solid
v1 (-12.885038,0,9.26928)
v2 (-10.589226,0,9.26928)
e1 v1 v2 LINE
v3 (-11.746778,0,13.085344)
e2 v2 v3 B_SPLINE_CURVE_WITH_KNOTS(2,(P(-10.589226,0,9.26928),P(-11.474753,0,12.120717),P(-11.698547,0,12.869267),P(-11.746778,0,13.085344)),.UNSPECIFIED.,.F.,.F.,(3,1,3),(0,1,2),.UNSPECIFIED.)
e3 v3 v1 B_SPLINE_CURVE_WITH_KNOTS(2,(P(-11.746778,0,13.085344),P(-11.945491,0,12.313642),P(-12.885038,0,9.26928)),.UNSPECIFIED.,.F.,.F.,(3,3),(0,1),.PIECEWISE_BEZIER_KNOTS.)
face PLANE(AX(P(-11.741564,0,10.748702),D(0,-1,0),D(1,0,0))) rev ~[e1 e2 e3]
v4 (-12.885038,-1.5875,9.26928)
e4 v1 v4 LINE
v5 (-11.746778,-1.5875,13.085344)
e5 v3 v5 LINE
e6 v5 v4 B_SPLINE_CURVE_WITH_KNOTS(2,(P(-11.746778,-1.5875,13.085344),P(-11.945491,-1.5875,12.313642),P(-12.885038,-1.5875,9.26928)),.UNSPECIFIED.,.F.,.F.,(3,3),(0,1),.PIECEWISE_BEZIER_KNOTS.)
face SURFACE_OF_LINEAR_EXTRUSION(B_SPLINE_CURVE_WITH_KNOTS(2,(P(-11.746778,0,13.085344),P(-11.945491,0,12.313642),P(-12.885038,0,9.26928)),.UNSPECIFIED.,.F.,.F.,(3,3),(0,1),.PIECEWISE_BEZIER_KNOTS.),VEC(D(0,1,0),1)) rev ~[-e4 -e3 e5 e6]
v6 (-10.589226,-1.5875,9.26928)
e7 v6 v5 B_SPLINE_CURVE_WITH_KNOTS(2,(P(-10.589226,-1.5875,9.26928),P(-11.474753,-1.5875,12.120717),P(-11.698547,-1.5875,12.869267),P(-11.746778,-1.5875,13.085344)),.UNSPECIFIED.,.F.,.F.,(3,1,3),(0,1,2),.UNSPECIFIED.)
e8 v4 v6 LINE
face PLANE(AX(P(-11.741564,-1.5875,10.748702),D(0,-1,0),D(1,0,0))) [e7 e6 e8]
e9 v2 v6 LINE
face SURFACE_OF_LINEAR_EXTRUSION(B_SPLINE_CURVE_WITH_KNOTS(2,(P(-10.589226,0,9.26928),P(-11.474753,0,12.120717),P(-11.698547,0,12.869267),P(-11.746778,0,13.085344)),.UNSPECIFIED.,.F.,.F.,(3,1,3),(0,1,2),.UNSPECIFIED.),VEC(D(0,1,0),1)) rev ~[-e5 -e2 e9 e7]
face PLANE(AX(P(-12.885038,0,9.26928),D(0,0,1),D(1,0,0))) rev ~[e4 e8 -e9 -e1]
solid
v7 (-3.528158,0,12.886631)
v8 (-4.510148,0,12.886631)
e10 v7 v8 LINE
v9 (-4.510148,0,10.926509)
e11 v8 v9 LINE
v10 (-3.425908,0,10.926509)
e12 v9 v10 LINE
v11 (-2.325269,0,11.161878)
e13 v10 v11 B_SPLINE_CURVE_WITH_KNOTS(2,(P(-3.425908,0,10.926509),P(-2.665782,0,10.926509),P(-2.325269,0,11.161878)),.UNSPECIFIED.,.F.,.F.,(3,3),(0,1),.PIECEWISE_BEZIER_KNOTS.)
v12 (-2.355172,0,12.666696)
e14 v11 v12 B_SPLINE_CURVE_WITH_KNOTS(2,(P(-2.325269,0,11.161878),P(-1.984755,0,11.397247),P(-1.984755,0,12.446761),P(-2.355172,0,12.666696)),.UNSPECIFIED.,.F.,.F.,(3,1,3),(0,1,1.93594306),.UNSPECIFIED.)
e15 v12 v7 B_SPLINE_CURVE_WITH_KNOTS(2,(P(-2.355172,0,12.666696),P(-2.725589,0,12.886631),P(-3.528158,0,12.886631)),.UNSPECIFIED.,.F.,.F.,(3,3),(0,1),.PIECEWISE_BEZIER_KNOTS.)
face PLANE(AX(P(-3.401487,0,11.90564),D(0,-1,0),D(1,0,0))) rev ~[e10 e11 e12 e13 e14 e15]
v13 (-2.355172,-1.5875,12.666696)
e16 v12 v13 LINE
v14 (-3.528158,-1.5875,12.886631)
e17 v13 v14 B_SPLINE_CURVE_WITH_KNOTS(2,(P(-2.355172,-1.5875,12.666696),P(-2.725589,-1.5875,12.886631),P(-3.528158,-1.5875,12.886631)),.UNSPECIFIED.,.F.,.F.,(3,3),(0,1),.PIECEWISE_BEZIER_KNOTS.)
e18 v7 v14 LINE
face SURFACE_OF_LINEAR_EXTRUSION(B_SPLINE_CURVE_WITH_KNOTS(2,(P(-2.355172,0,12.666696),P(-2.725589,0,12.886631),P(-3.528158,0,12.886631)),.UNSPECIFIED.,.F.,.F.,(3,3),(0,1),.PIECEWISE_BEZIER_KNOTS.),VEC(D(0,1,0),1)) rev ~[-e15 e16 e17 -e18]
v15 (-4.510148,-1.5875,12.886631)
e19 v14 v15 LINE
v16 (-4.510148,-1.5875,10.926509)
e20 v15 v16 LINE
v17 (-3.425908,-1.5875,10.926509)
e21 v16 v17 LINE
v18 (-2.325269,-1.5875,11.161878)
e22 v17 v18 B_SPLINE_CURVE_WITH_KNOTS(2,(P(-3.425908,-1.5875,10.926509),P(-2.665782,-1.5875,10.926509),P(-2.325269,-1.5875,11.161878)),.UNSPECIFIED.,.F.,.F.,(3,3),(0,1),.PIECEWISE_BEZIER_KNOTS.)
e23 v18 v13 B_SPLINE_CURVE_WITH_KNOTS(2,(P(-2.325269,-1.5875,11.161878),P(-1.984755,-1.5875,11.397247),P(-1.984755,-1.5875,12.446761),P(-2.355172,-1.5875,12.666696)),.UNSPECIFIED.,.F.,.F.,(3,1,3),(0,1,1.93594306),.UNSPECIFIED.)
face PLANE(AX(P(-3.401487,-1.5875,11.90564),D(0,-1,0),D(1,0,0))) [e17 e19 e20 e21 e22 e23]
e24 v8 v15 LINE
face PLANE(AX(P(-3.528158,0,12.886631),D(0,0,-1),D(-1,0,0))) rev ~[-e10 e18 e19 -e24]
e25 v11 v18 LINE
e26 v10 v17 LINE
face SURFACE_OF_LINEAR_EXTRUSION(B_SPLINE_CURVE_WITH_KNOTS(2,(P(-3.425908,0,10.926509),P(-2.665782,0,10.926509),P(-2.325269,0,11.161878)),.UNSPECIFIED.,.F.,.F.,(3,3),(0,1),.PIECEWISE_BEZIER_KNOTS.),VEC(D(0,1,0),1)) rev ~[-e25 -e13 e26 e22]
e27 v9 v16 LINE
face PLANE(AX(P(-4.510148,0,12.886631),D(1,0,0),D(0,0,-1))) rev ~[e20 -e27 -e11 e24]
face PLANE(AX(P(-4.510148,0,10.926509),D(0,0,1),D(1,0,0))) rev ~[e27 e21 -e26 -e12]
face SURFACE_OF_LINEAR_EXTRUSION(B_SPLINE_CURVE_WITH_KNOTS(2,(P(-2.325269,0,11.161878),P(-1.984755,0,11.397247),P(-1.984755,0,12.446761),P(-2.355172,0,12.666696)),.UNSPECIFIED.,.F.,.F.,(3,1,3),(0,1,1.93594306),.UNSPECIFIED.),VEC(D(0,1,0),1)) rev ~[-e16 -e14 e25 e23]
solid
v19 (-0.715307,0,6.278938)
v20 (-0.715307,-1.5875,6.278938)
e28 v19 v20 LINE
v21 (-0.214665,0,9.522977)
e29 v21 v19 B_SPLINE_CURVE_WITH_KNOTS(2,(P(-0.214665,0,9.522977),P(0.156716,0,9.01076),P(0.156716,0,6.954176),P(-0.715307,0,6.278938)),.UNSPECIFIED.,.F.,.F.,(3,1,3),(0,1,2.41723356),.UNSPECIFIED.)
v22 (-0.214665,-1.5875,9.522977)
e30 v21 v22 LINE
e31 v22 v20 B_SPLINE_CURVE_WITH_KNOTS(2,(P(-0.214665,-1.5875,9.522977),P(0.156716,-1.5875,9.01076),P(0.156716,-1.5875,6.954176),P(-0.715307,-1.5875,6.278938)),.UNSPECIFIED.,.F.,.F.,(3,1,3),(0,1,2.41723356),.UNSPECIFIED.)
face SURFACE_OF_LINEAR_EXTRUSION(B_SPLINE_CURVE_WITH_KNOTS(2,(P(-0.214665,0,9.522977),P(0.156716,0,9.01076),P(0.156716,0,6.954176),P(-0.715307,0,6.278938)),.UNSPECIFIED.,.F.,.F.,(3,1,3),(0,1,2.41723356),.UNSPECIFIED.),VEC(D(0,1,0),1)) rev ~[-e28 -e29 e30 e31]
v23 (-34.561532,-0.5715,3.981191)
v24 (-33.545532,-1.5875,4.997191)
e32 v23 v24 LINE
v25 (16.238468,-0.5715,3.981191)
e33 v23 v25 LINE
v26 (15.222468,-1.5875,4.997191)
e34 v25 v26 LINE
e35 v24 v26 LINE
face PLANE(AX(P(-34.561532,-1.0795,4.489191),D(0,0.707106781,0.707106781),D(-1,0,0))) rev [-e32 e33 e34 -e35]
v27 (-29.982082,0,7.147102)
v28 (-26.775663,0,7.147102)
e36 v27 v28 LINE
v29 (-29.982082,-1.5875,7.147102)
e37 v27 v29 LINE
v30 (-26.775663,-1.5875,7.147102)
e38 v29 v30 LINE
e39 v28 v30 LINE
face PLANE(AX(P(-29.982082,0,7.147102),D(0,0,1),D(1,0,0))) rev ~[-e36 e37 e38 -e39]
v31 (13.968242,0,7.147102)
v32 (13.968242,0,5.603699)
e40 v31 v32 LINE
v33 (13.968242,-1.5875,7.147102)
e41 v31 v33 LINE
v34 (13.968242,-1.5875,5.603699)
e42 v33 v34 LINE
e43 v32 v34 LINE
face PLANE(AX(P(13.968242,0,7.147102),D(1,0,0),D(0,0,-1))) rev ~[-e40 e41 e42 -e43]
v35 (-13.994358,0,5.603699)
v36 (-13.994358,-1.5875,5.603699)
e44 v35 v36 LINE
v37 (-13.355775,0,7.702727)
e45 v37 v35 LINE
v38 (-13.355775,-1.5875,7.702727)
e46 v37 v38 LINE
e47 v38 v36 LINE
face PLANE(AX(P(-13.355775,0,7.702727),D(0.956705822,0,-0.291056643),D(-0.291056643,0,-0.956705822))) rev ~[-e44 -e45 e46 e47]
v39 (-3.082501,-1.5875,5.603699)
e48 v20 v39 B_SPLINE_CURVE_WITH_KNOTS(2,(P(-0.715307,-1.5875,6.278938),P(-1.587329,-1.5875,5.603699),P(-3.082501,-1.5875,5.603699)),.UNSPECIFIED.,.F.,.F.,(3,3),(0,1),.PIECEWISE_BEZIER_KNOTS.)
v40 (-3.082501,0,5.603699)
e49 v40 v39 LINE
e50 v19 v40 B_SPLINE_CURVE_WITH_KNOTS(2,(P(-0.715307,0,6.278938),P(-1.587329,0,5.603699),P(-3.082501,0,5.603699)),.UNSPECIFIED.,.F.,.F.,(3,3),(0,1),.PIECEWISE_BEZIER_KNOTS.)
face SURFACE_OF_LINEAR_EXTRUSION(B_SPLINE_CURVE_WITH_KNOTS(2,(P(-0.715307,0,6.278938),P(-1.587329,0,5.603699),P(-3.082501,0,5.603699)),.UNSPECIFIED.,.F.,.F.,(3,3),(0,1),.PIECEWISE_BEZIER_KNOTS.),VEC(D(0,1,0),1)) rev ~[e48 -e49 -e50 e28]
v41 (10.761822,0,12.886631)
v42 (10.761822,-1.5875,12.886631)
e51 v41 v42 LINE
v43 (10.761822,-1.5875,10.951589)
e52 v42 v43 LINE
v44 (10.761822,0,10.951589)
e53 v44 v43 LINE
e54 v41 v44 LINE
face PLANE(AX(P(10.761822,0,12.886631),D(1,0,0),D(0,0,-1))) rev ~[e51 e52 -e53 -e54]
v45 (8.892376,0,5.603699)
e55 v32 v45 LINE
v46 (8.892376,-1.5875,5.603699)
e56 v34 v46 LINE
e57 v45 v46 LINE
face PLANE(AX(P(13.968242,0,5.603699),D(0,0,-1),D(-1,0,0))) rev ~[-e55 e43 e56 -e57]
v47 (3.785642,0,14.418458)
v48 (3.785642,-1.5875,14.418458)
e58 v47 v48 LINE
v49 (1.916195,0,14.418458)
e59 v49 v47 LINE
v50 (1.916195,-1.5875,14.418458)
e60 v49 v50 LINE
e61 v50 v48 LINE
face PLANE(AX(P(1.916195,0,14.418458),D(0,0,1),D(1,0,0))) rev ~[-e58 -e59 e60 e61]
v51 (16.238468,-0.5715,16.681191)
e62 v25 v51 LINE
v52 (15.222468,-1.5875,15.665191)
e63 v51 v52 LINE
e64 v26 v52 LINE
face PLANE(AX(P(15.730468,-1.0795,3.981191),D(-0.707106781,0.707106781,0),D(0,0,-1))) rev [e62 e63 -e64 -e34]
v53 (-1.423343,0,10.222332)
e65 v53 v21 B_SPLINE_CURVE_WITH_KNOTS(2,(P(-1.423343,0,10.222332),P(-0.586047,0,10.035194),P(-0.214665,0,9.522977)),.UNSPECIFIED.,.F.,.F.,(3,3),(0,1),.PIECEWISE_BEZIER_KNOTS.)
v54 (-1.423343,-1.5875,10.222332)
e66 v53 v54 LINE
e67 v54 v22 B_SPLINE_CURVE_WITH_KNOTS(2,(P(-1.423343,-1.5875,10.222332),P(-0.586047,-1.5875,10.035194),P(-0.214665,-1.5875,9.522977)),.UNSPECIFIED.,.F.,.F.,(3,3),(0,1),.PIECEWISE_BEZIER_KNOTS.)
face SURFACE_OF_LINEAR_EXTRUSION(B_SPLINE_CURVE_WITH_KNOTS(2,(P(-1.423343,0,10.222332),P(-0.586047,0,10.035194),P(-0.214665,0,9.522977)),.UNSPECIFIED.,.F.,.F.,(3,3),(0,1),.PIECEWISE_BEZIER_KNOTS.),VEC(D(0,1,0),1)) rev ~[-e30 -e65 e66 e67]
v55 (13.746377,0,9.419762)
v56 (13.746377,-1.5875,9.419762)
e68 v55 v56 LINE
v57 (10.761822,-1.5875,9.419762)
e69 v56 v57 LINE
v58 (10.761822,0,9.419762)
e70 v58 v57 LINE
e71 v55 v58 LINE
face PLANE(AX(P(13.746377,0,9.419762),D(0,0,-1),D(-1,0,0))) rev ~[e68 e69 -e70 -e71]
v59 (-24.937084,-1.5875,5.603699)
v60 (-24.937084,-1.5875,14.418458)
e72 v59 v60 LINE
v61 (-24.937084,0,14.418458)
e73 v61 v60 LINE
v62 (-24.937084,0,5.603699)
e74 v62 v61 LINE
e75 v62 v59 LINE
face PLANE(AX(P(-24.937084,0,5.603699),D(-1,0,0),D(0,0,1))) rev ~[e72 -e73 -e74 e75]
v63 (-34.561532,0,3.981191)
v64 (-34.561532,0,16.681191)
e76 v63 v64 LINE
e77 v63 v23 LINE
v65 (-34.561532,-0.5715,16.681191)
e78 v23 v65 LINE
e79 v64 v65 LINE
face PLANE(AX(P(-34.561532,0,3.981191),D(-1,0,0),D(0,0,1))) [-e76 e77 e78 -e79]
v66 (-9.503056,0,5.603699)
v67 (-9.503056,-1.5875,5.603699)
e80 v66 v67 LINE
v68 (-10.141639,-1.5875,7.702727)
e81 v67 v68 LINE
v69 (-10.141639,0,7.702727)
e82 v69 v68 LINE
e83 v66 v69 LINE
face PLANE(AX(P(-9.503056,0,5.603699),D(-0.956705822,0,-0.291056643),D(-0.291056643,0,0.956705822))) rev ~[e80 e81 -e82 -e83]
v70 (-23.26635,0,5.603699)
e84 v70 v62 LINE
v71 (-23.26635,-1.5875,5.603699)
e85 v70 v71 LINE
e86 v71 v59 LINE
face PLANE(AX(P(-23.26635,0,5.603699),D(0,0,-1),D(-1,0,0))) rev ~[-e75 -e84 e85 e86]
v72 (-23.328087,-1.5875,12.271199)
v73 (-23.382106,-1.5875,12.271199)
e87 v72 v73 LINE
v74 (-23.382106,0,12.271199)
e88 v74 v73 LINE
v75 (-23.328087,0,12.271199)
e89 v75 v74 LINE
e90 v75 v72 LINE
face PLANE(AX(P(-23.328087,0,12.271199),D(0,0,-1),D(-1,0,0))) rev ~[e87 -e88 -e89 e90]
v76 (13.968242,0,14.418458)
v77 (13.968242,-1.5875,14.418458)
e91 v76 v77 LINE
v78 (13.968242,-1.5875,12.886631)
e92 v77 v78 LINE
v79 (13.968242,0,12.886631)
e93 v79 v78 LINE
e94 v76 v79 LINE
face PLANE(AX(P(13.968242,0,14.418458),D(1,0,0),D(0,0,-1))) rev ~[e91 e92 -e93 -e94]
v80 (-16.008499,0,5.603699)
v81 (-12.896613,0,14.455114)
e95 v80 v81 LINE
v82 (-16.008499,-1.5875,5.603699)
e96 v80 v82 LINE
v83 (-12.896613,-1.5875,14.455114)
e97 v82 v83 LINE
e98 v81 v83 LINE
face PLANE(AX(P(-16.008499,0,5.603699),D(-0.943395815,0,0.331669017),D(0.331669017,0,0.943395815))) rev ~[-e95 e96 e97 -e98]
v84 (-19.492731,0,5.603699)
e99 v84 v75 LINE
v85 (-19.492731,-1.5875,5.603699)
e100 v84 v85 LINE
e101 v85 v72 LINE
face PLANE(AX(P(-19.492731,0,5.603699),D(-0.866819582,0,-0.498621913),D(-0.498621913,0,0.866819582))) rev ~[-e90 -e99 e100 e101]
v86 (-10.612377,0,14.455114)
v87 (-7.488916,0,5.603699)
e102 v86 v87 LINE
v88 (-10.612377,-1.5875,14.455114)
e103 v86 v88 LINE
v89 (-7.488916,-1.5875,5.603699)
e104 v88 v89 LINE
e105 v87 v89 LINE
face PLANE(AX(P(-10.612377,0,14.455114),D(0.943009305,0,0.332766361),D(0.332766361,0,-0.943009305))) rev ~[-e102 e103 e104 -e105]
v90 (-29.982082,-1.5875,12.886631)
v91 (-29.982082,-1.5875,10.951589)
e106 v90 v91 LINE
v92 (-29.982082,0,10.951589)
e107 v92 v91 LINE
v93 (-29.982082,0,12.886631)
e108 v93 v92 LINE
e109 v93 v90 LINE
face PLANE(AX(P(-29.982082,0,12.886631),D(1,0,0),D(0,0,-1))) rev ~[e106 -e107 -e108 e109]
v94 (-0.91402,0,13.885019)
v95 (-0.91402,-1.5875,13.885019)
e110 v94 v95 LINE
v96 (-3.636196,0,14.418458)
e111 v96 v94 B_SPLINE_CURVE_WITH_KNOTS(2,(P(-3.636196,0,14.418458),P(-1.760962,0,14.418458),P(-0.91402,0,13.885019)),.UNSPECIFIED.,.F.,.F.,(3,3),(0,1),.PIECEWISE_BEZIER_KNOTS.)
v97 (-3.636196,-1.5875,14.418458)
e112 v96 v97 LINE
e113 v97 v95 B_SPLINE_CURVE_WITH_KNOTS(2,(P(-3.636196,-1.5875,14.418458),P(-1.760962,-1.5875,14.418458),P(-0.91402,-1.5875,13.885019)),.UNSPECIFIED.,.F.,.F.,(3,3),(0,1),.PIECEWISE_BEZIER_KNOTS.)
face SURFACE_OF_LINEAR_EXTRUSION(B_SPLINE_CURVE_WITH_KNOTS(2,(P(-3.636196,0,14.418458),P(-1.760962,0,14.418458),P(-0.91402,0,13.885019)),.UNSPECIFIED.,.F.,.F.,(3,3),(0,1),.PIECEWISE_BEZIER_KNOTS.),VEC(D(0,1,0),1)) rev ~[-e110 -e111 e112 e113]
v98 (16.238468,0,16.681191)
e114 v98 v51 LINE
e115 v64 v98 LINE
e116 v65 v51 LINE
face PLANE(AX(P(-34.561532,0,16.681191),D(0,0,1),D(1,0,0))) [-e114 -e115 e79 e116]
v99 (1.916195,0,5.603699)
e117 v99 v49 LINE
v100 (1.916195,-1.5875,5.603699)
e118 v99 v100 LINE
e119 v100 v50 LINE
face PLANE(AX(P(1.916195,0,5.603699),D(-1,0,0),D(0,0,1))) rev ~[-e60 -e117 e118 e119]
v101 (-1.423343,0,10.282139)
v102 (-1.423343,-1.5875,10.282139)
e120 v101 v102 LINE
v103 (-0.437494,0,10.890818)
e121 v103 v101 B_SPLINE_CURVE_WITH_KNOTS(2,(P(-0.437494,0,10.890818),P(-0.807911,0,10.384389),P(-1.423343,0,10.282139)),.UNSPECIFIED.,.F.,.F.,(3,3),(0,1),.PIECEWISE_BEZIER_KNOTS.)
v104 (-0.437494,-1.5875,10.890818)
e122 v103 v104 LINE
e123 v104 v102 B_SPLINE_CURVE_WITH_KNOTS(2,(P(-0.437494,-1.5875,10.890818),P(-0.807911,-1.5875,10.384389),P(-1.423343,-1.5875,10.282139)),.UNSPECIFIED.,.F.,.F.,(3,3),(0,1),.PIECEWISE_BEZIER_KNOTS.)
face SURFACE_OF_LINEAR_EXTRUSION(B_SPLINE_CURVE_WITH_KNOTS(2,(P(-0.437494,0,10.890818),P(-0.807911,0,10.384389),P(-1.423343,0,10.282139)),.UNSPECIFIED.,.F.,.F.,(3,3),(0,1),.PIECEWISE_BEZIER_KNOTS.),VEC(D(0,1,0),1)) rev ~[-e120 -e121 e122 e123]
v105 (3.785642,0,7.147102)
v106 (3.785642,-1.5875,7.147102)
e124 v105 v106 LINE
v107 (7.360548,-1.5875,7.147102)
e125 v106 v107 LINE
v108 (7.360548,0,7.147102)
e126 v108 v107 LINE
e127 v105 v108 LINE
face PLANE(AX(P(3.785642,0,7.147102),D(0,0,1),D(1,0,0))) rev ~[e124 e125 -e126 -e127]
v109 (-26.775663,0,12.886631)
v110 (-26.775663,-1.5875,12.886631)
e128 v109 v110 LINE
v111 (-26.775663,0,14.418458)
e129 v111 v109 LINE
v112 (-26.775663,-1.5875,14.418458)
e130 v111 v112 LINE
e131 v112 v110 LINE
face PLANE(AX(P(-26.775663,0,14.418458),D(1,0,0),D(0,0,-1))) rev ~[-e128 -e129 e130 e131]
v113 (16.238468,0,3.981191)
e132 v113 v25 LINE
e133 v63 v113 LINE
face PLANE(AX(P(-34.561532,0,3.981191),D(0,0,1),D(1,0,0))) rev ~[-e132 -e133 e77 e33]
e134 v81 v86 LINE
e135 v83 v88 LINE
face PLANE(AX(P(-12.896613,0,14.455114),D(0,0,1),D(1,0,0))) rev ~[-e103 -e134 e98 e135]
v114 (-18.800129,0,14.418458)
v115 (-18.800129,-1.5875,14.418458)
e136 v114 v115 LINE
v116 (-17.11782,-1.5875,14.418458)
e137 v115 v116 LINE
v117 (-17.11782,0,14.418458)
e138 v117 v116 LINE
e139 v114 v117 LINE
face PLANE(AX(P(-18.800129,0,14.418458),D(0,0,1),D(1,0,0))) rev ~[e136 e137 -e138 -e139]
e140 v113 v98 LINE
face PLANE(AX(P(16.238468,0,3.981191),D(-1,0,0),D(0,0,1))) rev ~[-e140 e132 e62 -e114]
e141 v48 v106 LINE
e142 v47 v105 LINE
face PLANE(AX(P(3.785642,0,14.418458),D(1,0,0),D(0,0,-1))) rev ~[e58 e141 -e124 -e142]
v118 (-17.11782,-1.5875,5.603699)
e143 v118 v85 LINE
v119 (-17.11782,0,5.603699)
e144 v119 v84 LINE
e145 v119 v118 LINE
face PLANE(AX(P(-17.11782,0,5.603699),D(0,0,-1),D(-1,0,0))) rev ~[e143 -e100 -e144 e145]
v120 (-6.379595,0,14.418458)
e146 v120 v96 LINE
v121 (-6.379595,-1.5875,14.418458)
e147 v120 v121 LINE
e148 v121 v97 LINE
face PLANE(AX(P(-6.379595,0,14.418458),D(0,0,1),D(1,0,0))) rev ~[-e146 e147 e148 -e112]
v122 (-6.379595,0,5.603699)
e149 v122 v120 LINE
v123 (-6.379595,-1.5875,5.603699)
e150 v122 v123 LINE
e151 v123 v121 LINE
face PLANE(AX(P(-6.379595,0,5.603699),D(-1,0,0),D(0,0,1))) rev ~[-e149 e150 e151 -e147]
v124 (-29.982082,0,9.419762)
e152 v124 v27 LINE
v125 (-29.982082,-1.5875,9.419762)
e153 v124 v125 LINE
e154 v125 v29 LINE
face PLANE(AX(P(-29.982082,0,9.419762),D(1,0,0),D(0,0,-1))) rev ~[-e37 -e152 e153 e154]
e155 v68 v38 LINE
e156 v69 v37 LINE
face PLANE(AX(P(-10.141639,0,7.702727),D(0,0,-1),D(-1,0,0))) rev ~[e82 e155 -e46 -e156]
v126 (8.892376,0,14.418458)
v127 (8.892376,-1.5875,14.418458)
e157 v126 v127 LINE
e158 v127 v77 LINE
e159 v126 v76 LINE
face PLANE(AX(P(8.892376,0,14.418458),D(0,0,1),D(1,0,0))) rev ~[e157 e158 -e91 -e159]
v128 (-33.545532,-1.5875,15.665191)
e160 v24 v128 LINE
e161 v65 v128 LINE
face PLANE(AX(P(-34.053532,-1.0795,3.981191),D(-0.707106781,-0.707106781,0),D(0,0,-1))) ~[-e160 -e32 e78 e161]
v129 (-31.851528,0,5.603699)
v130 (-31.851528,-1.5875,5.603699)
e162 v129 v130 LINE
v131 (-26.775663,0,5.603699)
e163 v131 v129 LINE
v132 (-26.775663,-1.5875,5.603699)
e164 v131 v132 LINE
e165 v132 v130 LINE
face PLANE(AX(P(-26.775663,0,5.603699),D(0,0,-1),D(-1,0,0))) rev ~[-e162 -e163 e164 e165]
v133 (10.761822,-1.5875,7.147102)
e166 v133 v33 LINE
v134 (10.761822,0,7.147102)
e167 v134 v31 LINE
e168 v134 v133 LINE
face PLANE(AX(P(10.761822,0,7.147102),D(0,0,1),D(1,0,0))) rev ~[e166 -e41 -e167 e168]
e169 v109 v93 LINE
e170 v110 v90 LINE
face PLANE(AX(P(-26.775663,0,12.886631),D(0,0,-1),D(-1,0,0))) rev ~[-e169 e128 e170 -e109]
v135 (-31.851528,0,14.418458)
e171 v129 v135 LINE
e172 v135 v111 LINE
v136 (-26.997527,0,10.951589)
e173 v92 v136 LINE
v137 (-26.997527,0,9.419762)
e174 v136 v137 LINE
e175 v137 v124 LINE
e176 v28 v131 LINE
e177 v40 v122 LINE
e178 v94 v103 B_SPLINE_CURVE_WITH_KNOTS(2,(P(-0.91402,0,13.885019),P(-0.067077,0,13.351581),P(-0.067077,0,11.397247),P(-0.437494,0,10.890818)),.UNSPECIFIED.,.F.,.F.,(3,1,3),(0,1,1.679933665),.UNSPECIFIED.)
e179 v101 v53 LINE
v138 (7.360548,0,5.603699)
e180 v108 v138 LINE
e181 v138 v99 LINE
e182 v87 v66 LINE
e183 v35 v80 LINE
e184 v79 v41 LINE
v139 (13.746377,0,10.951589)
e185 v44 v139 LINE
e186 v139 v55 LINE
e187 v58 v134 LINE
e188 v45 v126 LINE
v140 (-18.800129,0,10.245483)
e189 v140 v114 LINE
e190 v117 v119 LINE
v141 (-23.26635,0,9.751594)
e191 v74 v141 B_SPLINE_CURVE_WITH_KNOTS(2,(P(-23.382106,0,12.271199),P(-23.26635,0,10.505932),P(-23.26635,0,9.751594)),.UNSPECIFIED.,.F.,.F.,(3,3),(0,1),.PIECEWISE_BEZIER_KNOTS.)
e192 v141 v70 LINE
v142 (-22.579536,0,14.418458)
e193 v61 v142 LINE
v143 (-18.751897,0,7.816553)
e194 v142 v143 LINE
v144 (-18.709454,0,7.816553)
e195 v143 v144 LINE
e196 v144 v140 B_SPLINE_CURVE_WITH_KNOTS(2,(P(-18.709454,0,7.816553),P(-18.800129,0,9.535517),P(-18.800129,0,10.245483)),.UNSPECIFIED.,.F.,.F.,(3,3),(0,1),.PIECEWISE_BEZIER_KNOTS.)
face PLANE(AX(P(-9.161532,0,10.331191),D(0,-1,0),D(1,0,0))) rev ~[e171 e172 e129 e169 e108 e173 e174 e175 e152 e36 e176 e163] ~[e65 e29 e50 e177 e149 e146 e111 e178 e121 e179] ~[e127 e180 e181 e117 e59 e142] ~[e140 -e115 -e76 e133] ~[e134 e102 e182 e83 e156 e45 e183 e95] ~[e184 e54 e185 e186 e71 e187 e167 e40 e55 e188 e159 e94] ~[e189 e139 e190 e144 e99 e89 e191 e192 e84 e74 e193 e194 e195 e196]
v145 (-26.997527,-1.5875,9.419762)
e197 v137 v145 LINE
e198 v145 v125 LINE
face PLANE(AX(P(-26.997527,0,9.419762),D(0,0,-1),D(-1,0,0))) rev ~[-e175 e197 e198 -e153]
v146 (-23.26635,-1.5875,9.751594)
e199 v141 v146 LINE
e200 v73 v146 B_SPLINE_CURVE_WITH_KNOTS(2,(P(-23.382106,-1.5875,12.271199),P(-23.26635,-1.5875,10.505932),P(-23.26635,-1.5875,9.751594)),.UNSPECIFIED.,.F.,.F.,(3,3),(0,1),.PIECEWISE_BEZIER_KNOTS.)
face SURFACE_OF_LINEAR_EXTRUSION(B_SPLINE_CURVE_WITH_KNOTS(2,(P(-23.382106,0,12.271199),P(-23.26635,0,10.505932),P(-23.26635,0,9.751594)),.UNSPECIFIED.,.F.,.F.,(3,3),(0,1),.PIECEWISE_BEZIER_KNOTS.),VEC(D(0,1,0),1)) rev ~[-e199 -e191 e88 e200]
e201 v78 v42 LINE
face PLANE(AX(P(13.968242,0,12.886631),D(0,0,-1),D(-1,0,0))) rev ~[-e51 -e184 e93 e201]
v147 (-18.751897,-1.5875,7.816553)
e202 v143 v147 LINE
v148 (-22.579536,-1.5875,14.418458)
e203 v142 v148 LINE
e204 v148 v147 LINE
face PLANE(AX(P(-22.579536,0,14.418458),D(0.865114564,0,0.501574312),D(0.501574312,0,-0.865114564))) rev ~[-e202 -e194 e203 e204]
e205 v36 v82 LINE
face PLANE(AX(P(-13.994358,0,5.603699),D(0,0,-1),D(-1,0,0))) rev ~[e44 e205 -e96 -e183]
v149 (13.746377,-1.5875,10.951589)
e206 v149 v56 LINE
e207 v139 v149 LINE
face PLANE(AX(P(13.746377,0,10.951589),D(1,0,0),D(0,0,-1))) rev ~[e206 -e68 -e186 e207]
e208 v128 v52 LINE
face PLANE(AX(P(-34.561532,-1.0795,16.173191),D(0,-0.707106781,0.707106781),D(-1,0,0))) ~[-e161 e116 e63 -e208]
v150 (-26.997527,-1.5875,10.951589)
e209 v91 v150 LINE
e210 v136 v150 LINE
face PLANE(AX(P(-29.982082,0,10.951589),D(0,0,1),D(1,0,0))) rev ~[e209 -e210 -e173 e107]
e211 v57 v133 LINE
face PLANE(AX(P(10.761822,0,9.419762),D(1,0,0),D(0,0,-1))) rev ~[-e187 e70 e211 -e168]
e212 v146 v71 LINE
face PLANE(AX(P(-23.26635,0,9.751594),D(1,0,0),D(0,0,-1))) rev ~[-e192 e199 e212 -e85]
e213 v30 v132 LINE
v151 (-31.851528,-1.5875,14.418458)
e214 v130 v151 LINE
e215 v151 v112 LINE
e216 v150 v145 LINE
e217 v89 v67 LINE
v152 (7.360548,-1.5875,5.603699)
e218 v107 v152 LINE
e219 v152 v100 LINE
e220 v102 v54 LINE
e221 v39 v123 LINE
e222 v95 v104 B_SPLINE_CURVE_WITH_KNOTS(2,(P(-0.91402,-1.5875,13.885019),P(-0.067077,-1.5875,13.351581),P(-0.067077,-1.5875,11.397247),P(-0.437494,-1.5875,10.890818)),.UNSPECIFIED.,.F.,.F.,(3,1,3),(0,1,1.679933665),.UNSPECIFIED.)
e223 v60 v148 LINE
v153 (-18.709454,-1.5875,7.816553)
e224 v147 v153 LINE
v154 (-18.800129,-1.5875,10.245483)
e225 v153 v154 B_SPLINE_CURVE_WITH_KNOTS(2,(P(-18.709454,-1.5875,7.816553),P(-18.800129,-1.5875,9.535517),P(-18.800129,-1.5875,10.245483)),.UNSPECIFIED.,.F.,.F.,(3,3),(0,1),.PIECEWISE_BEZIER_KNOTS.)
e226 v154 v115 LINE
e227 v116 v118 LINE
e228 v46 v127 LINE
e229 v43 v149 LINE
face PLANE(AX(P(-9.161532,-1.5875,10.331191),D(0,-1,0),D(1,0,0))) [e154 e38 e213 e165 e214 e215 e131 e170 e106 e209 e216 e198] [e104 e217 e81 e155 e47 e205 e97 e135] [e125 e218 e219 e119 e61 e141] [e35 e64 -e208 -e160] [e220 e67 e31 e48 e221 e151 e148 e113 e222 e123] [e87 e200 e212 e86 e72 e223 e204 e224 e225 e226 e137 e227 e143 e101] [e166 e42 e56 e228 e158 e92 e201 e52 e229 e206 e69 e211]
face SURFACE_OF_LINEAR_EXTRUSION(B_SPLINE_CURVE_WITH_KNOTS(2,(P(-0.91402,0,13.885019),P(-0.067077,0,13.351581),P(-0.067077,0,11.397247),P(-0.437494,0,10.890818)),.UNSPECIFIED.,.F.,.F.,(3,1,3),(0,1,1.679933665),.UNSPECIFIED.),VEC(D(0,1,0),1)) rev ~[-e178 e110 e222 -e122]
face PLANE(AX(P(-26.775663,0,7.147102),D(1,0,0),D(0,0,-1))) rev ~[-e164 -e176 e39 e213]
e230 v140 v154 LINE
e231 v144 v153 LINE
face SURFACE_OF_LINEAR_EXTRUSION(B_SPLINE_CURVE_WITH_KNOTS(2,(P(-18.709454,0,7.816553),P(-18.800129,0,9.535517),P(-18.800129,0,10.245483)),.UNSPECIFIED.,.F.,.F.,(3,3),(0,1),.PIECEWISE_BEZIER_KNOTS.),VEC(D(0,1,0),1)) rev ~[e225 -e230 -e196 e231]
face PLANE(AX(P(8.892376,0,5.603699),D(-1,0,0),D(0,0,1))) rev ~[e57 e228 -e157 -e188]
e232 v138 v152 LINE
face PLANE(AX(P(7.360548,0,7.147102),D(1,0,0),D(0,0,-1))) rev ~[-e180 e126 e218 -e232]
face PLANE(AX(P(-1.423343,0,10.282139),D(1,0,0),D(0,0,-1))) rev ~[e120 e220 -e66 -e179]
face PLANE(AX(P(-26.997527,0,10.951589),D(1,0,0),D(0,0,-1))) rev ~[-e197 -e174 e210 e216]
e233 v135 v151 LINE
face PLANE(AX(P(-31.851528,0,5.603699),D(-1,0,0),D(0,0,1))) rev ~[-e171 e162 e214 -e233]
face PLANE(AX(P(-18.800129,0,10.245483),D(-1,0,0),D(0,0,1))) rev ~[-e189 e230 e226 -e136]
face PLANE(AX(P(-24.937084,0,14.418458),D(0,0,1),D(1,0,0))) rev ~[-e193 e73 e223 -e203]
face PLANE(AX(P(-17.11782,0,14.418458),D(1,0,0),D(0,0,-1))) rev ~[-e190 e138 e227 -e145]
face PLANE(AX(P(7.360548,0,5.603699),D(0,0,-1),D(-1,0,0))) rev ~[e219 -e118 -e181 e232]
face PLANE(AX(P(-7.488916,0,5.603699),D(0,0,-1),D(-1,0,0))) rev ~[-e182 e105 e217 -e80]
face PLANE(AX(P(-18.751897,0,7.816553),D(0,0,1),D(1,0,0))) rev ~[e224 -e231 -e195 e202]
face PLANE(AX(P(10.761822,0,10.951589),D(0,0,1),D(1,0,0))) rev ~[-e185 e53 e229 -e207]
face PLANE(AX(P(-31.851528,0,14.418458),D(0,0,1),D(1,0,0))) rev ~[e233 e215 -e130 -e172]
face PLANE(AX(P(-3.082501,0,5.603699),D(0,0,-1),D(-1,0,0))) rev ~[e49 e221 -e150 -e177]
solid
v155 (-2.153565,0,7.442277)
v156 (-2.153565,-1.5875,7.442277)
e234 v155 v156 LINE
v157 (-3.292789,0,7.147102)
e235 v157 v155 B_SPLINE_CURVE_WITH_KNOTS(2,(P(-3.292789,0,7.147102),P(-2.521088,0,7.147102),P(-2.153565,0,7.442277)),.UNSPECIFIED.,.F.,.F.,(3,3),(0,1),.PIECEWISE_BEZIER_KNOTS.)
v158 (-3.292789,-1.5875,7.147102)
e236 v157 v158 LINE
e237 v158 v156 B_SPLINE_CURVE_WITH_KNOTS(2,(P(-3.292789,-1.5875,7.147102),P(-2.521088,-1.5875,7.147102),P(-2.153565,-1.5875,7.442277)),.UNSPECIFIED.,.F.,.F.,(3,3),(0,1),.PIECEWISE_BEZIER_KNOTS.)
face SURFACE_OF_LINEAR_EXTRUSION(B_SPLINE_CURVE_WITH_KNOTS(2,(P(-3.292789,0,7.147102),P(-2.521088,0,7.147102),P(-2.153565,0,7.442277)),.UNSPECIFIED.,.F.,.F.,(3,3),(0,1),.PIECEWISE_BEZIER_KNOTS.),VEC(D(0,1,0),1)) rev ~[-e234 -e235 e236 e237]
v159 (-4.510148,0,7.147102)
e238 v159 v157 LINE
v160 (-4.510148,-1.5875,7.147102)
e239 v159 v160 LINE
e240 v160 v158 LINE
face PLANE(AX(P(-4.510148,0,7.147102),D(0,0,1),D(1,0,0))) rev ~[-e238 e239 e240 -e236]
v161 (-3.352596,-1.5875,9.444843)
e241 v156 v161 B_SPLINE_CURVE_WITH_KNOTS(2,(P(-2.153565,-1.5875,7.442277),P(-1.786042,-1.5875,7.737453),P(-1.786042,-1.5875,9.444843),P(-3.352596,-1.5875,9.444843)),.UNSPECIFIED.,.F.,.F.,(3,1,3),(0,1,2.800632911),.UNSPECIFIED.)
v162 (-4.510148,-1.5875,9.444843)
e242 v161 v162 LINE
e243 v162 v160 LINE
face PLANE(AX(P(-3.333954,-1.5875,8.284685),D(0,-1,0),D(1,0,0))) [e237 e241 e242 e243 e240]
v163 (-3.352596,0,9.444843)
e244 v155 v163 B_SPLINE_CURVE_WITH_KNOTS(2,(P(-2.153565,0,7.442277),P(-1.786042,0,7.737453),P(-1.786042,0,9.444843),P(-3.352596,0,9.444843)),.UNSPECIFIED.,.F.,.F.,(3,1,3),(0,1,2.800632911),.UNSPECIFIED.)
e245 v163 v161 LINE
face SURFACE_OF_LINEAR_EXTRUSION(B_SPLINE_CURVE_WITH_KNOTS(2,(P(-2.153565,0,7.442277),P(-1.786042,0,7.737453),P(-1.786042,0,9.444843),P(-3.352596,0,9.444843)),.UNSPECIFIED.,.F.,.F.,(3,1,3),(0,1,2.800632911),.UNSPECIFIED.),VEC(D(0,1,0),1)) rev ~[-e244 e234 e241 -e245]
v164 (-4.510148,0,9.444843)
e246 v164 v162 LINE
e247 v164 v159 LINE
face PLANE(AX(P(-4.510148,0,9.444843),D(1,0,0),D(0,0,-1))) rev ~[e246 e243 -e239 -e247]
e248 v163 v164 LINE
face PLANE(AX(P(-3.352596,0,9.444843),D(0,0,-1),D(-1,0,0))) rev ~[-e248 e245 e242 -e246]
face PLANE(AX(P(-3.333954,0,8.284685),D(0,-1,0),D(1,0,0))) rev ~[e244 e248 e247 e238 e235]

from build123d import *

# Parameters (mm, degrees)
F0_W     = 50.8
F0_H     = 12.7
F1_DEPTH = 1.5875
F2_SIZE  = 1.016


with BuildPart() as f1:
    # F0 (on Front) → F1 (new body)
    with BuildSketch(Plane.XZ):
        with Locations((-9.1615320603, 10.3311909613)):
            Rectangle(F0_W, F0_H)
        Polygon((-26.7756625529, 7.1471016441), (-26.7756625529, 5.6036988663), (-31.8515284383, 5.6036988663), (-31.8515284383, 14.4184579809), (-26.7756625529, 14.4184579809), (-26.7756625529, 12.886630724), (-29.9820818238, 12.886630724), (-29.9820818238, 10.9515894913), (-26.9975267022, 10.9515894913), (-26.9975267022, 9.4197622344), (-29.9820818238, 9.4197622344), (-29.9820818238, 7.1471016441), align=None, mode=Mode.SUBTRACT)
        with BuildLine():
            Line((-17.117819671, 14.4184579809), (-17.117819671, 5.6036988663))
            Line((-17.117819671, 5.6036988663), (-19.4927306953, 5.6036988663))
            Line((-19.4927306953, 5.6036988663), (-23.3280865981, 12.2711988663))
            Line((-23.3280865981, 12.2711988663), (-23.3821056953, 12.2711988663))
            add(Edge.make_bspline(
                [(-23.3821056953, 12.2711988663), (-23.266350487, 10.5059319393), (-23.266350487, 9.7515938316)],
                knots=[0, 0, 0, 1, 1, 1], degree=2))
            Line((-23.266350487, 9.7515938316), (-23.266350487, 5.6036988663))
            Line((-23.266350487, 5.6036988663), (-24.9370839939, 5.6036988663))
            Line((-24.9370839939, 5.6036988663), (-24.9370839939, 14.4184579809))
            Line((-24.9370839939, 14.4184579809), (-22.5795362508, 14.4184579809))
            Line((-22.5795362508, 14.4184579809), (-18.751897362, 7.816552599))
            Line((-18.751897362, 7.816552599), (-18.7094537856, 7.816552599))
            add(Edge.make_bspline(
                [(-18.7094537856, 7.816552599), (-18.8001286988, 9.5355174427), (-18.8001286988, 10.2454827205)],
                knots=[0, 0, 0, 1, 1, 1], degree=2))
            Line((-18.8001286988, 10.2454827205), (-18.8001286988, 14.4184579809))
            Line((-18.8001286988, 14.4184579809), (-17.117819671, 14.4184579809))
        make_face(mode=Mode.SUBTRACT)
        Polygon((-7.4889155911, 5.6036988663), (-9.5030562161, 5.6036988663), (-10.1416391154, 7.7027266441), (-13.3557754001, 7.7027266441), (-13.9943582995, 5.6036988663), (-16.0084989245, 5.6036988663), (-12.8966130738, 14.4551137969), (-10.6123769626, 14.4551137969), align=None, mode=Mode.SUBTRACT)
        with BuildLine():
            Line((-6.3795948446, 5.6036988663), (-6.3795948446, 14.4184579809))
            Line((-6.3795948446, 14.4184579809), (-3.6361964071, 14.4184579809))
            add(Edge.make_bspline(
                [(-3.6361964071, 14.4184579809), (-1.7609620321, 14.4184579809), (-0.9140197578, 13.8850193959)],
                knots=[0, 0, 0, 1, 1, 1], degree=2))
            add(Edge.make_bspline(
                [(-0.9140197578, 13.8850193959), (-0.0670774835, 13.3515808108), (-0.0670774835, 12.188240967)],
                knots=[0, 0, 0, 1, 1, 1], degree=2))
            add(Edge.make_bspline(
                [(-0.0670774835, 12.188240967), (-0.0670774835, 11.3972470434), (-0.4374941501, 10.890818007)],
                knots=[0, 0, 0, 1, 1, 1], degree=2))
            add(Edge.make_bspline(
                [(-0.4374941501, 10.890818007), (-0.8079108168, 10.3843889705), (-1.4233426745, 10.2821385365)],
                knots=[0, 0, 0, 1, 1, 1], degree=2))
            Line((-1.4233426745, 10.2821385365), (-1.4233426745, 10.2223316788))
            add(Edge.make_bspline(
                [(-1.4233426745, 10.2223316788), (-0.5860466675, 10.035194092), (-0.2146653741, 9.5229772952)],
                knots=[0, 0, 0, 1, 1, 1], degree=2))
            add(Edge.make_bspline(
                [(-0.2146653741, 9.5229772952), (0.1567159193, 9.0107604983), (0.1567159193, 8.159959717)],
                knots=[0, 0, 0, 1, 1, 1], degree=2))
            add(Edge.make_bspline(
                [(0.1567159193, 8.159959717), (0.1567159193, 6.9541762969), (-0.7153066501, 6.2789375816)],
                knots=[0, 0, 0, 1, 1, 1], degree=2))
            add(Edge.make_bspline(
                [(-0.7153066501, 6.2789375816), (-1.5873292196, 5.6036988663), (-3.0825006606, 5.6036988663)],
                knots=[0, 0, 0, 1, 1, 1], degree=2))
            Line((-3.0825006606, 5.6036988663), (-6.3795948446, 5.6036988663))
        make_face(mode=Mode.SUBTRACT)
        Polygon((7.3605483846, 5.6036988663), (1.916195086, 5.6036988663), (1.916195086, 14.4184579809), (3.7856417005, 14.4184579809), (3.7856417005, 7.1471016441), (7.3605483846, 7.1471016441), align=None, mode=Mode.SUBTRACT)
        Polygon((13.9682415269, 7.1471016441), (13.9682415269, 5.6036988663), (8.8923756415, 5.6036988663), (8.8923756415, 14.4184579809), (13.9682415269, 14.4184579809), (13.9682415269, 12.886630724), (10.7618222561, 12.886630724), (10.7618222561, 10.9515894913), (13.7463773776, 10.9515894913), (13.7463773776, 9.4197622344), (10.7618222561, 9.4197622344), (10.7618222561, 7.1471016441), align=None, mode=Mode.SUBTRACT)
    extrude(amount=F1_DEPTH)

    # F2
    f2_edges = [f1.edges().sort_by_distance(p)[0] for p in [
        (-9.161532, -1.5875, 3.981191),
        (-34.561532, -1.5875, 10.331191),
        (-9.161532, -1.5875, 16.681191),
        (16.238468, -1.5875, 10.331191),
    ]]
    chamfer(f2_edges, length=F2_SIZE)


with BuildPart() as f1b:
    # F0 (on Front) → F1, piece 2 (new body)
    with BuildSketch(Plane.XZ):
        with BuildLine():
            Line((-3.3525961467, 9.4448425295), (-4.51014823, 9.4448425295))
            Line((-4.51014823, 9.4448425295), (-4.51014823, 7.1471016441))
            Line((-4.51014823, 7.1471016441), (-3.292789289, 7.1471016441))
            add(Edge.make_bspline(
                [(-3.292789289, 7.1471016441), (-2.5210879001, 7.1471016441), (-2.1535651137, 7.4422774254)],
                knots=[0, 0, 0, 1, 1, 1], degree=2))
            add(Edge.make_bspline(
                [(-2.1535651137, 7.4422774254), (-1.7860423272, 7.7374532066), (-1.7860423272, 8.3470973038)],
                knots=[0, 0, 0, 1, 1, 1], degree=2))
            add(Edge.make_bspline(
                [(-1.7860423272, 8.3470973038), (-1.7860423272, 9.4448425295), (-3.3525961467, 9.4448425295)],
                knots=[0, 0, 0, 1, 1, 1], degree=2))
        make_face()
    extrude(amount=F1_DEPTH)


with BuildPart() as f1c:
    # F0 (on Front) → F1, piece 3 (new body)
    with BuildSketch(Plane.XZ):
        with BuildLine():
            Line((-12.8850375529, 9.2692804636), (-10.589225921, 9.2692804636))
            add(Edge.make_bspline(
                [(-10.589225921, 9.2692804636), (-11.4747532647, 12.1207170955), (-11.5866499661, 12.4949922691)],
                knots=[0, 0, 0, 1, 1, 1], degree=2))
            add(Edge.make_bspline(
                [(-11.5866499661, 12.4949922691), (-11.6985466675, 12.8692674427), (-11.7467780043, 13.0853438316)],
                knots=[0, 0, 0, 1, 1, 1], degree=2))
            add(Edge.make_bspline(
                [(-11.7467780043, 13.0853438316), (-11.945491112, 12.3136424427), (-12.8850375529, 9.2692804636)],
                knots=[0, 0, 0, 1, 1, 1], degree=2))
        make_face()
    extrude(amount=F1_DEPTH)


with BuildPart() as f1d:
    # F0 (on Front) → F1, piece 4 (new body)
    with BuildSketch(Plane.XZ):
        with BuildLine():
            Line((-4.51014823, 12.886630724), (-4.51014823, 10.9265091962))
            Line((-4.51014823, 10.9265091962), (-3.4259077786, 10.9265091962))
            add(Edge.make_bspline(
                [(-3.4259077786, 10.9265091962), (-2.6657819106, 10.9265091962), (-2.3252686727, 11.1618781198)],
                knots=[0, 0, 0, 1, 1, 1], degree=2))
            add(Edge.make_bspline(
                [(-2.3252686727, 11.1618781198), (-1.9847554349, 11.3972470434), (-1.9847554349, 11.9393672691)],
                knots=[0, 0, 0, 1, 1, 1], degree=2))
            add(Edge.make_bspline(
                [(-1.9847554349, 11.9393672691), (-1.9847554349, 12.4467609323), (-2.3551721015, 12.6666958282)],
                knots=[0, 0, 0, 1, 1, 1], degree=2))
            add(Edge.make_bspline(
                [(-2.3551721015, 12.6666958282), (-2.7255887682, 12.886630724), (-3.5281582126, 12.886630724)],
                knots=[0, 0, 0, 1, 1, 1], degree=2))
            Line((-3.5281582126, 12.886630724), (-4.51014823, 12.886630724))
        make_face()
    extrude(amount=F1_DEPTH)


solid = Compound([f1.part, f1b.part, f1c.part, f1d.part])
